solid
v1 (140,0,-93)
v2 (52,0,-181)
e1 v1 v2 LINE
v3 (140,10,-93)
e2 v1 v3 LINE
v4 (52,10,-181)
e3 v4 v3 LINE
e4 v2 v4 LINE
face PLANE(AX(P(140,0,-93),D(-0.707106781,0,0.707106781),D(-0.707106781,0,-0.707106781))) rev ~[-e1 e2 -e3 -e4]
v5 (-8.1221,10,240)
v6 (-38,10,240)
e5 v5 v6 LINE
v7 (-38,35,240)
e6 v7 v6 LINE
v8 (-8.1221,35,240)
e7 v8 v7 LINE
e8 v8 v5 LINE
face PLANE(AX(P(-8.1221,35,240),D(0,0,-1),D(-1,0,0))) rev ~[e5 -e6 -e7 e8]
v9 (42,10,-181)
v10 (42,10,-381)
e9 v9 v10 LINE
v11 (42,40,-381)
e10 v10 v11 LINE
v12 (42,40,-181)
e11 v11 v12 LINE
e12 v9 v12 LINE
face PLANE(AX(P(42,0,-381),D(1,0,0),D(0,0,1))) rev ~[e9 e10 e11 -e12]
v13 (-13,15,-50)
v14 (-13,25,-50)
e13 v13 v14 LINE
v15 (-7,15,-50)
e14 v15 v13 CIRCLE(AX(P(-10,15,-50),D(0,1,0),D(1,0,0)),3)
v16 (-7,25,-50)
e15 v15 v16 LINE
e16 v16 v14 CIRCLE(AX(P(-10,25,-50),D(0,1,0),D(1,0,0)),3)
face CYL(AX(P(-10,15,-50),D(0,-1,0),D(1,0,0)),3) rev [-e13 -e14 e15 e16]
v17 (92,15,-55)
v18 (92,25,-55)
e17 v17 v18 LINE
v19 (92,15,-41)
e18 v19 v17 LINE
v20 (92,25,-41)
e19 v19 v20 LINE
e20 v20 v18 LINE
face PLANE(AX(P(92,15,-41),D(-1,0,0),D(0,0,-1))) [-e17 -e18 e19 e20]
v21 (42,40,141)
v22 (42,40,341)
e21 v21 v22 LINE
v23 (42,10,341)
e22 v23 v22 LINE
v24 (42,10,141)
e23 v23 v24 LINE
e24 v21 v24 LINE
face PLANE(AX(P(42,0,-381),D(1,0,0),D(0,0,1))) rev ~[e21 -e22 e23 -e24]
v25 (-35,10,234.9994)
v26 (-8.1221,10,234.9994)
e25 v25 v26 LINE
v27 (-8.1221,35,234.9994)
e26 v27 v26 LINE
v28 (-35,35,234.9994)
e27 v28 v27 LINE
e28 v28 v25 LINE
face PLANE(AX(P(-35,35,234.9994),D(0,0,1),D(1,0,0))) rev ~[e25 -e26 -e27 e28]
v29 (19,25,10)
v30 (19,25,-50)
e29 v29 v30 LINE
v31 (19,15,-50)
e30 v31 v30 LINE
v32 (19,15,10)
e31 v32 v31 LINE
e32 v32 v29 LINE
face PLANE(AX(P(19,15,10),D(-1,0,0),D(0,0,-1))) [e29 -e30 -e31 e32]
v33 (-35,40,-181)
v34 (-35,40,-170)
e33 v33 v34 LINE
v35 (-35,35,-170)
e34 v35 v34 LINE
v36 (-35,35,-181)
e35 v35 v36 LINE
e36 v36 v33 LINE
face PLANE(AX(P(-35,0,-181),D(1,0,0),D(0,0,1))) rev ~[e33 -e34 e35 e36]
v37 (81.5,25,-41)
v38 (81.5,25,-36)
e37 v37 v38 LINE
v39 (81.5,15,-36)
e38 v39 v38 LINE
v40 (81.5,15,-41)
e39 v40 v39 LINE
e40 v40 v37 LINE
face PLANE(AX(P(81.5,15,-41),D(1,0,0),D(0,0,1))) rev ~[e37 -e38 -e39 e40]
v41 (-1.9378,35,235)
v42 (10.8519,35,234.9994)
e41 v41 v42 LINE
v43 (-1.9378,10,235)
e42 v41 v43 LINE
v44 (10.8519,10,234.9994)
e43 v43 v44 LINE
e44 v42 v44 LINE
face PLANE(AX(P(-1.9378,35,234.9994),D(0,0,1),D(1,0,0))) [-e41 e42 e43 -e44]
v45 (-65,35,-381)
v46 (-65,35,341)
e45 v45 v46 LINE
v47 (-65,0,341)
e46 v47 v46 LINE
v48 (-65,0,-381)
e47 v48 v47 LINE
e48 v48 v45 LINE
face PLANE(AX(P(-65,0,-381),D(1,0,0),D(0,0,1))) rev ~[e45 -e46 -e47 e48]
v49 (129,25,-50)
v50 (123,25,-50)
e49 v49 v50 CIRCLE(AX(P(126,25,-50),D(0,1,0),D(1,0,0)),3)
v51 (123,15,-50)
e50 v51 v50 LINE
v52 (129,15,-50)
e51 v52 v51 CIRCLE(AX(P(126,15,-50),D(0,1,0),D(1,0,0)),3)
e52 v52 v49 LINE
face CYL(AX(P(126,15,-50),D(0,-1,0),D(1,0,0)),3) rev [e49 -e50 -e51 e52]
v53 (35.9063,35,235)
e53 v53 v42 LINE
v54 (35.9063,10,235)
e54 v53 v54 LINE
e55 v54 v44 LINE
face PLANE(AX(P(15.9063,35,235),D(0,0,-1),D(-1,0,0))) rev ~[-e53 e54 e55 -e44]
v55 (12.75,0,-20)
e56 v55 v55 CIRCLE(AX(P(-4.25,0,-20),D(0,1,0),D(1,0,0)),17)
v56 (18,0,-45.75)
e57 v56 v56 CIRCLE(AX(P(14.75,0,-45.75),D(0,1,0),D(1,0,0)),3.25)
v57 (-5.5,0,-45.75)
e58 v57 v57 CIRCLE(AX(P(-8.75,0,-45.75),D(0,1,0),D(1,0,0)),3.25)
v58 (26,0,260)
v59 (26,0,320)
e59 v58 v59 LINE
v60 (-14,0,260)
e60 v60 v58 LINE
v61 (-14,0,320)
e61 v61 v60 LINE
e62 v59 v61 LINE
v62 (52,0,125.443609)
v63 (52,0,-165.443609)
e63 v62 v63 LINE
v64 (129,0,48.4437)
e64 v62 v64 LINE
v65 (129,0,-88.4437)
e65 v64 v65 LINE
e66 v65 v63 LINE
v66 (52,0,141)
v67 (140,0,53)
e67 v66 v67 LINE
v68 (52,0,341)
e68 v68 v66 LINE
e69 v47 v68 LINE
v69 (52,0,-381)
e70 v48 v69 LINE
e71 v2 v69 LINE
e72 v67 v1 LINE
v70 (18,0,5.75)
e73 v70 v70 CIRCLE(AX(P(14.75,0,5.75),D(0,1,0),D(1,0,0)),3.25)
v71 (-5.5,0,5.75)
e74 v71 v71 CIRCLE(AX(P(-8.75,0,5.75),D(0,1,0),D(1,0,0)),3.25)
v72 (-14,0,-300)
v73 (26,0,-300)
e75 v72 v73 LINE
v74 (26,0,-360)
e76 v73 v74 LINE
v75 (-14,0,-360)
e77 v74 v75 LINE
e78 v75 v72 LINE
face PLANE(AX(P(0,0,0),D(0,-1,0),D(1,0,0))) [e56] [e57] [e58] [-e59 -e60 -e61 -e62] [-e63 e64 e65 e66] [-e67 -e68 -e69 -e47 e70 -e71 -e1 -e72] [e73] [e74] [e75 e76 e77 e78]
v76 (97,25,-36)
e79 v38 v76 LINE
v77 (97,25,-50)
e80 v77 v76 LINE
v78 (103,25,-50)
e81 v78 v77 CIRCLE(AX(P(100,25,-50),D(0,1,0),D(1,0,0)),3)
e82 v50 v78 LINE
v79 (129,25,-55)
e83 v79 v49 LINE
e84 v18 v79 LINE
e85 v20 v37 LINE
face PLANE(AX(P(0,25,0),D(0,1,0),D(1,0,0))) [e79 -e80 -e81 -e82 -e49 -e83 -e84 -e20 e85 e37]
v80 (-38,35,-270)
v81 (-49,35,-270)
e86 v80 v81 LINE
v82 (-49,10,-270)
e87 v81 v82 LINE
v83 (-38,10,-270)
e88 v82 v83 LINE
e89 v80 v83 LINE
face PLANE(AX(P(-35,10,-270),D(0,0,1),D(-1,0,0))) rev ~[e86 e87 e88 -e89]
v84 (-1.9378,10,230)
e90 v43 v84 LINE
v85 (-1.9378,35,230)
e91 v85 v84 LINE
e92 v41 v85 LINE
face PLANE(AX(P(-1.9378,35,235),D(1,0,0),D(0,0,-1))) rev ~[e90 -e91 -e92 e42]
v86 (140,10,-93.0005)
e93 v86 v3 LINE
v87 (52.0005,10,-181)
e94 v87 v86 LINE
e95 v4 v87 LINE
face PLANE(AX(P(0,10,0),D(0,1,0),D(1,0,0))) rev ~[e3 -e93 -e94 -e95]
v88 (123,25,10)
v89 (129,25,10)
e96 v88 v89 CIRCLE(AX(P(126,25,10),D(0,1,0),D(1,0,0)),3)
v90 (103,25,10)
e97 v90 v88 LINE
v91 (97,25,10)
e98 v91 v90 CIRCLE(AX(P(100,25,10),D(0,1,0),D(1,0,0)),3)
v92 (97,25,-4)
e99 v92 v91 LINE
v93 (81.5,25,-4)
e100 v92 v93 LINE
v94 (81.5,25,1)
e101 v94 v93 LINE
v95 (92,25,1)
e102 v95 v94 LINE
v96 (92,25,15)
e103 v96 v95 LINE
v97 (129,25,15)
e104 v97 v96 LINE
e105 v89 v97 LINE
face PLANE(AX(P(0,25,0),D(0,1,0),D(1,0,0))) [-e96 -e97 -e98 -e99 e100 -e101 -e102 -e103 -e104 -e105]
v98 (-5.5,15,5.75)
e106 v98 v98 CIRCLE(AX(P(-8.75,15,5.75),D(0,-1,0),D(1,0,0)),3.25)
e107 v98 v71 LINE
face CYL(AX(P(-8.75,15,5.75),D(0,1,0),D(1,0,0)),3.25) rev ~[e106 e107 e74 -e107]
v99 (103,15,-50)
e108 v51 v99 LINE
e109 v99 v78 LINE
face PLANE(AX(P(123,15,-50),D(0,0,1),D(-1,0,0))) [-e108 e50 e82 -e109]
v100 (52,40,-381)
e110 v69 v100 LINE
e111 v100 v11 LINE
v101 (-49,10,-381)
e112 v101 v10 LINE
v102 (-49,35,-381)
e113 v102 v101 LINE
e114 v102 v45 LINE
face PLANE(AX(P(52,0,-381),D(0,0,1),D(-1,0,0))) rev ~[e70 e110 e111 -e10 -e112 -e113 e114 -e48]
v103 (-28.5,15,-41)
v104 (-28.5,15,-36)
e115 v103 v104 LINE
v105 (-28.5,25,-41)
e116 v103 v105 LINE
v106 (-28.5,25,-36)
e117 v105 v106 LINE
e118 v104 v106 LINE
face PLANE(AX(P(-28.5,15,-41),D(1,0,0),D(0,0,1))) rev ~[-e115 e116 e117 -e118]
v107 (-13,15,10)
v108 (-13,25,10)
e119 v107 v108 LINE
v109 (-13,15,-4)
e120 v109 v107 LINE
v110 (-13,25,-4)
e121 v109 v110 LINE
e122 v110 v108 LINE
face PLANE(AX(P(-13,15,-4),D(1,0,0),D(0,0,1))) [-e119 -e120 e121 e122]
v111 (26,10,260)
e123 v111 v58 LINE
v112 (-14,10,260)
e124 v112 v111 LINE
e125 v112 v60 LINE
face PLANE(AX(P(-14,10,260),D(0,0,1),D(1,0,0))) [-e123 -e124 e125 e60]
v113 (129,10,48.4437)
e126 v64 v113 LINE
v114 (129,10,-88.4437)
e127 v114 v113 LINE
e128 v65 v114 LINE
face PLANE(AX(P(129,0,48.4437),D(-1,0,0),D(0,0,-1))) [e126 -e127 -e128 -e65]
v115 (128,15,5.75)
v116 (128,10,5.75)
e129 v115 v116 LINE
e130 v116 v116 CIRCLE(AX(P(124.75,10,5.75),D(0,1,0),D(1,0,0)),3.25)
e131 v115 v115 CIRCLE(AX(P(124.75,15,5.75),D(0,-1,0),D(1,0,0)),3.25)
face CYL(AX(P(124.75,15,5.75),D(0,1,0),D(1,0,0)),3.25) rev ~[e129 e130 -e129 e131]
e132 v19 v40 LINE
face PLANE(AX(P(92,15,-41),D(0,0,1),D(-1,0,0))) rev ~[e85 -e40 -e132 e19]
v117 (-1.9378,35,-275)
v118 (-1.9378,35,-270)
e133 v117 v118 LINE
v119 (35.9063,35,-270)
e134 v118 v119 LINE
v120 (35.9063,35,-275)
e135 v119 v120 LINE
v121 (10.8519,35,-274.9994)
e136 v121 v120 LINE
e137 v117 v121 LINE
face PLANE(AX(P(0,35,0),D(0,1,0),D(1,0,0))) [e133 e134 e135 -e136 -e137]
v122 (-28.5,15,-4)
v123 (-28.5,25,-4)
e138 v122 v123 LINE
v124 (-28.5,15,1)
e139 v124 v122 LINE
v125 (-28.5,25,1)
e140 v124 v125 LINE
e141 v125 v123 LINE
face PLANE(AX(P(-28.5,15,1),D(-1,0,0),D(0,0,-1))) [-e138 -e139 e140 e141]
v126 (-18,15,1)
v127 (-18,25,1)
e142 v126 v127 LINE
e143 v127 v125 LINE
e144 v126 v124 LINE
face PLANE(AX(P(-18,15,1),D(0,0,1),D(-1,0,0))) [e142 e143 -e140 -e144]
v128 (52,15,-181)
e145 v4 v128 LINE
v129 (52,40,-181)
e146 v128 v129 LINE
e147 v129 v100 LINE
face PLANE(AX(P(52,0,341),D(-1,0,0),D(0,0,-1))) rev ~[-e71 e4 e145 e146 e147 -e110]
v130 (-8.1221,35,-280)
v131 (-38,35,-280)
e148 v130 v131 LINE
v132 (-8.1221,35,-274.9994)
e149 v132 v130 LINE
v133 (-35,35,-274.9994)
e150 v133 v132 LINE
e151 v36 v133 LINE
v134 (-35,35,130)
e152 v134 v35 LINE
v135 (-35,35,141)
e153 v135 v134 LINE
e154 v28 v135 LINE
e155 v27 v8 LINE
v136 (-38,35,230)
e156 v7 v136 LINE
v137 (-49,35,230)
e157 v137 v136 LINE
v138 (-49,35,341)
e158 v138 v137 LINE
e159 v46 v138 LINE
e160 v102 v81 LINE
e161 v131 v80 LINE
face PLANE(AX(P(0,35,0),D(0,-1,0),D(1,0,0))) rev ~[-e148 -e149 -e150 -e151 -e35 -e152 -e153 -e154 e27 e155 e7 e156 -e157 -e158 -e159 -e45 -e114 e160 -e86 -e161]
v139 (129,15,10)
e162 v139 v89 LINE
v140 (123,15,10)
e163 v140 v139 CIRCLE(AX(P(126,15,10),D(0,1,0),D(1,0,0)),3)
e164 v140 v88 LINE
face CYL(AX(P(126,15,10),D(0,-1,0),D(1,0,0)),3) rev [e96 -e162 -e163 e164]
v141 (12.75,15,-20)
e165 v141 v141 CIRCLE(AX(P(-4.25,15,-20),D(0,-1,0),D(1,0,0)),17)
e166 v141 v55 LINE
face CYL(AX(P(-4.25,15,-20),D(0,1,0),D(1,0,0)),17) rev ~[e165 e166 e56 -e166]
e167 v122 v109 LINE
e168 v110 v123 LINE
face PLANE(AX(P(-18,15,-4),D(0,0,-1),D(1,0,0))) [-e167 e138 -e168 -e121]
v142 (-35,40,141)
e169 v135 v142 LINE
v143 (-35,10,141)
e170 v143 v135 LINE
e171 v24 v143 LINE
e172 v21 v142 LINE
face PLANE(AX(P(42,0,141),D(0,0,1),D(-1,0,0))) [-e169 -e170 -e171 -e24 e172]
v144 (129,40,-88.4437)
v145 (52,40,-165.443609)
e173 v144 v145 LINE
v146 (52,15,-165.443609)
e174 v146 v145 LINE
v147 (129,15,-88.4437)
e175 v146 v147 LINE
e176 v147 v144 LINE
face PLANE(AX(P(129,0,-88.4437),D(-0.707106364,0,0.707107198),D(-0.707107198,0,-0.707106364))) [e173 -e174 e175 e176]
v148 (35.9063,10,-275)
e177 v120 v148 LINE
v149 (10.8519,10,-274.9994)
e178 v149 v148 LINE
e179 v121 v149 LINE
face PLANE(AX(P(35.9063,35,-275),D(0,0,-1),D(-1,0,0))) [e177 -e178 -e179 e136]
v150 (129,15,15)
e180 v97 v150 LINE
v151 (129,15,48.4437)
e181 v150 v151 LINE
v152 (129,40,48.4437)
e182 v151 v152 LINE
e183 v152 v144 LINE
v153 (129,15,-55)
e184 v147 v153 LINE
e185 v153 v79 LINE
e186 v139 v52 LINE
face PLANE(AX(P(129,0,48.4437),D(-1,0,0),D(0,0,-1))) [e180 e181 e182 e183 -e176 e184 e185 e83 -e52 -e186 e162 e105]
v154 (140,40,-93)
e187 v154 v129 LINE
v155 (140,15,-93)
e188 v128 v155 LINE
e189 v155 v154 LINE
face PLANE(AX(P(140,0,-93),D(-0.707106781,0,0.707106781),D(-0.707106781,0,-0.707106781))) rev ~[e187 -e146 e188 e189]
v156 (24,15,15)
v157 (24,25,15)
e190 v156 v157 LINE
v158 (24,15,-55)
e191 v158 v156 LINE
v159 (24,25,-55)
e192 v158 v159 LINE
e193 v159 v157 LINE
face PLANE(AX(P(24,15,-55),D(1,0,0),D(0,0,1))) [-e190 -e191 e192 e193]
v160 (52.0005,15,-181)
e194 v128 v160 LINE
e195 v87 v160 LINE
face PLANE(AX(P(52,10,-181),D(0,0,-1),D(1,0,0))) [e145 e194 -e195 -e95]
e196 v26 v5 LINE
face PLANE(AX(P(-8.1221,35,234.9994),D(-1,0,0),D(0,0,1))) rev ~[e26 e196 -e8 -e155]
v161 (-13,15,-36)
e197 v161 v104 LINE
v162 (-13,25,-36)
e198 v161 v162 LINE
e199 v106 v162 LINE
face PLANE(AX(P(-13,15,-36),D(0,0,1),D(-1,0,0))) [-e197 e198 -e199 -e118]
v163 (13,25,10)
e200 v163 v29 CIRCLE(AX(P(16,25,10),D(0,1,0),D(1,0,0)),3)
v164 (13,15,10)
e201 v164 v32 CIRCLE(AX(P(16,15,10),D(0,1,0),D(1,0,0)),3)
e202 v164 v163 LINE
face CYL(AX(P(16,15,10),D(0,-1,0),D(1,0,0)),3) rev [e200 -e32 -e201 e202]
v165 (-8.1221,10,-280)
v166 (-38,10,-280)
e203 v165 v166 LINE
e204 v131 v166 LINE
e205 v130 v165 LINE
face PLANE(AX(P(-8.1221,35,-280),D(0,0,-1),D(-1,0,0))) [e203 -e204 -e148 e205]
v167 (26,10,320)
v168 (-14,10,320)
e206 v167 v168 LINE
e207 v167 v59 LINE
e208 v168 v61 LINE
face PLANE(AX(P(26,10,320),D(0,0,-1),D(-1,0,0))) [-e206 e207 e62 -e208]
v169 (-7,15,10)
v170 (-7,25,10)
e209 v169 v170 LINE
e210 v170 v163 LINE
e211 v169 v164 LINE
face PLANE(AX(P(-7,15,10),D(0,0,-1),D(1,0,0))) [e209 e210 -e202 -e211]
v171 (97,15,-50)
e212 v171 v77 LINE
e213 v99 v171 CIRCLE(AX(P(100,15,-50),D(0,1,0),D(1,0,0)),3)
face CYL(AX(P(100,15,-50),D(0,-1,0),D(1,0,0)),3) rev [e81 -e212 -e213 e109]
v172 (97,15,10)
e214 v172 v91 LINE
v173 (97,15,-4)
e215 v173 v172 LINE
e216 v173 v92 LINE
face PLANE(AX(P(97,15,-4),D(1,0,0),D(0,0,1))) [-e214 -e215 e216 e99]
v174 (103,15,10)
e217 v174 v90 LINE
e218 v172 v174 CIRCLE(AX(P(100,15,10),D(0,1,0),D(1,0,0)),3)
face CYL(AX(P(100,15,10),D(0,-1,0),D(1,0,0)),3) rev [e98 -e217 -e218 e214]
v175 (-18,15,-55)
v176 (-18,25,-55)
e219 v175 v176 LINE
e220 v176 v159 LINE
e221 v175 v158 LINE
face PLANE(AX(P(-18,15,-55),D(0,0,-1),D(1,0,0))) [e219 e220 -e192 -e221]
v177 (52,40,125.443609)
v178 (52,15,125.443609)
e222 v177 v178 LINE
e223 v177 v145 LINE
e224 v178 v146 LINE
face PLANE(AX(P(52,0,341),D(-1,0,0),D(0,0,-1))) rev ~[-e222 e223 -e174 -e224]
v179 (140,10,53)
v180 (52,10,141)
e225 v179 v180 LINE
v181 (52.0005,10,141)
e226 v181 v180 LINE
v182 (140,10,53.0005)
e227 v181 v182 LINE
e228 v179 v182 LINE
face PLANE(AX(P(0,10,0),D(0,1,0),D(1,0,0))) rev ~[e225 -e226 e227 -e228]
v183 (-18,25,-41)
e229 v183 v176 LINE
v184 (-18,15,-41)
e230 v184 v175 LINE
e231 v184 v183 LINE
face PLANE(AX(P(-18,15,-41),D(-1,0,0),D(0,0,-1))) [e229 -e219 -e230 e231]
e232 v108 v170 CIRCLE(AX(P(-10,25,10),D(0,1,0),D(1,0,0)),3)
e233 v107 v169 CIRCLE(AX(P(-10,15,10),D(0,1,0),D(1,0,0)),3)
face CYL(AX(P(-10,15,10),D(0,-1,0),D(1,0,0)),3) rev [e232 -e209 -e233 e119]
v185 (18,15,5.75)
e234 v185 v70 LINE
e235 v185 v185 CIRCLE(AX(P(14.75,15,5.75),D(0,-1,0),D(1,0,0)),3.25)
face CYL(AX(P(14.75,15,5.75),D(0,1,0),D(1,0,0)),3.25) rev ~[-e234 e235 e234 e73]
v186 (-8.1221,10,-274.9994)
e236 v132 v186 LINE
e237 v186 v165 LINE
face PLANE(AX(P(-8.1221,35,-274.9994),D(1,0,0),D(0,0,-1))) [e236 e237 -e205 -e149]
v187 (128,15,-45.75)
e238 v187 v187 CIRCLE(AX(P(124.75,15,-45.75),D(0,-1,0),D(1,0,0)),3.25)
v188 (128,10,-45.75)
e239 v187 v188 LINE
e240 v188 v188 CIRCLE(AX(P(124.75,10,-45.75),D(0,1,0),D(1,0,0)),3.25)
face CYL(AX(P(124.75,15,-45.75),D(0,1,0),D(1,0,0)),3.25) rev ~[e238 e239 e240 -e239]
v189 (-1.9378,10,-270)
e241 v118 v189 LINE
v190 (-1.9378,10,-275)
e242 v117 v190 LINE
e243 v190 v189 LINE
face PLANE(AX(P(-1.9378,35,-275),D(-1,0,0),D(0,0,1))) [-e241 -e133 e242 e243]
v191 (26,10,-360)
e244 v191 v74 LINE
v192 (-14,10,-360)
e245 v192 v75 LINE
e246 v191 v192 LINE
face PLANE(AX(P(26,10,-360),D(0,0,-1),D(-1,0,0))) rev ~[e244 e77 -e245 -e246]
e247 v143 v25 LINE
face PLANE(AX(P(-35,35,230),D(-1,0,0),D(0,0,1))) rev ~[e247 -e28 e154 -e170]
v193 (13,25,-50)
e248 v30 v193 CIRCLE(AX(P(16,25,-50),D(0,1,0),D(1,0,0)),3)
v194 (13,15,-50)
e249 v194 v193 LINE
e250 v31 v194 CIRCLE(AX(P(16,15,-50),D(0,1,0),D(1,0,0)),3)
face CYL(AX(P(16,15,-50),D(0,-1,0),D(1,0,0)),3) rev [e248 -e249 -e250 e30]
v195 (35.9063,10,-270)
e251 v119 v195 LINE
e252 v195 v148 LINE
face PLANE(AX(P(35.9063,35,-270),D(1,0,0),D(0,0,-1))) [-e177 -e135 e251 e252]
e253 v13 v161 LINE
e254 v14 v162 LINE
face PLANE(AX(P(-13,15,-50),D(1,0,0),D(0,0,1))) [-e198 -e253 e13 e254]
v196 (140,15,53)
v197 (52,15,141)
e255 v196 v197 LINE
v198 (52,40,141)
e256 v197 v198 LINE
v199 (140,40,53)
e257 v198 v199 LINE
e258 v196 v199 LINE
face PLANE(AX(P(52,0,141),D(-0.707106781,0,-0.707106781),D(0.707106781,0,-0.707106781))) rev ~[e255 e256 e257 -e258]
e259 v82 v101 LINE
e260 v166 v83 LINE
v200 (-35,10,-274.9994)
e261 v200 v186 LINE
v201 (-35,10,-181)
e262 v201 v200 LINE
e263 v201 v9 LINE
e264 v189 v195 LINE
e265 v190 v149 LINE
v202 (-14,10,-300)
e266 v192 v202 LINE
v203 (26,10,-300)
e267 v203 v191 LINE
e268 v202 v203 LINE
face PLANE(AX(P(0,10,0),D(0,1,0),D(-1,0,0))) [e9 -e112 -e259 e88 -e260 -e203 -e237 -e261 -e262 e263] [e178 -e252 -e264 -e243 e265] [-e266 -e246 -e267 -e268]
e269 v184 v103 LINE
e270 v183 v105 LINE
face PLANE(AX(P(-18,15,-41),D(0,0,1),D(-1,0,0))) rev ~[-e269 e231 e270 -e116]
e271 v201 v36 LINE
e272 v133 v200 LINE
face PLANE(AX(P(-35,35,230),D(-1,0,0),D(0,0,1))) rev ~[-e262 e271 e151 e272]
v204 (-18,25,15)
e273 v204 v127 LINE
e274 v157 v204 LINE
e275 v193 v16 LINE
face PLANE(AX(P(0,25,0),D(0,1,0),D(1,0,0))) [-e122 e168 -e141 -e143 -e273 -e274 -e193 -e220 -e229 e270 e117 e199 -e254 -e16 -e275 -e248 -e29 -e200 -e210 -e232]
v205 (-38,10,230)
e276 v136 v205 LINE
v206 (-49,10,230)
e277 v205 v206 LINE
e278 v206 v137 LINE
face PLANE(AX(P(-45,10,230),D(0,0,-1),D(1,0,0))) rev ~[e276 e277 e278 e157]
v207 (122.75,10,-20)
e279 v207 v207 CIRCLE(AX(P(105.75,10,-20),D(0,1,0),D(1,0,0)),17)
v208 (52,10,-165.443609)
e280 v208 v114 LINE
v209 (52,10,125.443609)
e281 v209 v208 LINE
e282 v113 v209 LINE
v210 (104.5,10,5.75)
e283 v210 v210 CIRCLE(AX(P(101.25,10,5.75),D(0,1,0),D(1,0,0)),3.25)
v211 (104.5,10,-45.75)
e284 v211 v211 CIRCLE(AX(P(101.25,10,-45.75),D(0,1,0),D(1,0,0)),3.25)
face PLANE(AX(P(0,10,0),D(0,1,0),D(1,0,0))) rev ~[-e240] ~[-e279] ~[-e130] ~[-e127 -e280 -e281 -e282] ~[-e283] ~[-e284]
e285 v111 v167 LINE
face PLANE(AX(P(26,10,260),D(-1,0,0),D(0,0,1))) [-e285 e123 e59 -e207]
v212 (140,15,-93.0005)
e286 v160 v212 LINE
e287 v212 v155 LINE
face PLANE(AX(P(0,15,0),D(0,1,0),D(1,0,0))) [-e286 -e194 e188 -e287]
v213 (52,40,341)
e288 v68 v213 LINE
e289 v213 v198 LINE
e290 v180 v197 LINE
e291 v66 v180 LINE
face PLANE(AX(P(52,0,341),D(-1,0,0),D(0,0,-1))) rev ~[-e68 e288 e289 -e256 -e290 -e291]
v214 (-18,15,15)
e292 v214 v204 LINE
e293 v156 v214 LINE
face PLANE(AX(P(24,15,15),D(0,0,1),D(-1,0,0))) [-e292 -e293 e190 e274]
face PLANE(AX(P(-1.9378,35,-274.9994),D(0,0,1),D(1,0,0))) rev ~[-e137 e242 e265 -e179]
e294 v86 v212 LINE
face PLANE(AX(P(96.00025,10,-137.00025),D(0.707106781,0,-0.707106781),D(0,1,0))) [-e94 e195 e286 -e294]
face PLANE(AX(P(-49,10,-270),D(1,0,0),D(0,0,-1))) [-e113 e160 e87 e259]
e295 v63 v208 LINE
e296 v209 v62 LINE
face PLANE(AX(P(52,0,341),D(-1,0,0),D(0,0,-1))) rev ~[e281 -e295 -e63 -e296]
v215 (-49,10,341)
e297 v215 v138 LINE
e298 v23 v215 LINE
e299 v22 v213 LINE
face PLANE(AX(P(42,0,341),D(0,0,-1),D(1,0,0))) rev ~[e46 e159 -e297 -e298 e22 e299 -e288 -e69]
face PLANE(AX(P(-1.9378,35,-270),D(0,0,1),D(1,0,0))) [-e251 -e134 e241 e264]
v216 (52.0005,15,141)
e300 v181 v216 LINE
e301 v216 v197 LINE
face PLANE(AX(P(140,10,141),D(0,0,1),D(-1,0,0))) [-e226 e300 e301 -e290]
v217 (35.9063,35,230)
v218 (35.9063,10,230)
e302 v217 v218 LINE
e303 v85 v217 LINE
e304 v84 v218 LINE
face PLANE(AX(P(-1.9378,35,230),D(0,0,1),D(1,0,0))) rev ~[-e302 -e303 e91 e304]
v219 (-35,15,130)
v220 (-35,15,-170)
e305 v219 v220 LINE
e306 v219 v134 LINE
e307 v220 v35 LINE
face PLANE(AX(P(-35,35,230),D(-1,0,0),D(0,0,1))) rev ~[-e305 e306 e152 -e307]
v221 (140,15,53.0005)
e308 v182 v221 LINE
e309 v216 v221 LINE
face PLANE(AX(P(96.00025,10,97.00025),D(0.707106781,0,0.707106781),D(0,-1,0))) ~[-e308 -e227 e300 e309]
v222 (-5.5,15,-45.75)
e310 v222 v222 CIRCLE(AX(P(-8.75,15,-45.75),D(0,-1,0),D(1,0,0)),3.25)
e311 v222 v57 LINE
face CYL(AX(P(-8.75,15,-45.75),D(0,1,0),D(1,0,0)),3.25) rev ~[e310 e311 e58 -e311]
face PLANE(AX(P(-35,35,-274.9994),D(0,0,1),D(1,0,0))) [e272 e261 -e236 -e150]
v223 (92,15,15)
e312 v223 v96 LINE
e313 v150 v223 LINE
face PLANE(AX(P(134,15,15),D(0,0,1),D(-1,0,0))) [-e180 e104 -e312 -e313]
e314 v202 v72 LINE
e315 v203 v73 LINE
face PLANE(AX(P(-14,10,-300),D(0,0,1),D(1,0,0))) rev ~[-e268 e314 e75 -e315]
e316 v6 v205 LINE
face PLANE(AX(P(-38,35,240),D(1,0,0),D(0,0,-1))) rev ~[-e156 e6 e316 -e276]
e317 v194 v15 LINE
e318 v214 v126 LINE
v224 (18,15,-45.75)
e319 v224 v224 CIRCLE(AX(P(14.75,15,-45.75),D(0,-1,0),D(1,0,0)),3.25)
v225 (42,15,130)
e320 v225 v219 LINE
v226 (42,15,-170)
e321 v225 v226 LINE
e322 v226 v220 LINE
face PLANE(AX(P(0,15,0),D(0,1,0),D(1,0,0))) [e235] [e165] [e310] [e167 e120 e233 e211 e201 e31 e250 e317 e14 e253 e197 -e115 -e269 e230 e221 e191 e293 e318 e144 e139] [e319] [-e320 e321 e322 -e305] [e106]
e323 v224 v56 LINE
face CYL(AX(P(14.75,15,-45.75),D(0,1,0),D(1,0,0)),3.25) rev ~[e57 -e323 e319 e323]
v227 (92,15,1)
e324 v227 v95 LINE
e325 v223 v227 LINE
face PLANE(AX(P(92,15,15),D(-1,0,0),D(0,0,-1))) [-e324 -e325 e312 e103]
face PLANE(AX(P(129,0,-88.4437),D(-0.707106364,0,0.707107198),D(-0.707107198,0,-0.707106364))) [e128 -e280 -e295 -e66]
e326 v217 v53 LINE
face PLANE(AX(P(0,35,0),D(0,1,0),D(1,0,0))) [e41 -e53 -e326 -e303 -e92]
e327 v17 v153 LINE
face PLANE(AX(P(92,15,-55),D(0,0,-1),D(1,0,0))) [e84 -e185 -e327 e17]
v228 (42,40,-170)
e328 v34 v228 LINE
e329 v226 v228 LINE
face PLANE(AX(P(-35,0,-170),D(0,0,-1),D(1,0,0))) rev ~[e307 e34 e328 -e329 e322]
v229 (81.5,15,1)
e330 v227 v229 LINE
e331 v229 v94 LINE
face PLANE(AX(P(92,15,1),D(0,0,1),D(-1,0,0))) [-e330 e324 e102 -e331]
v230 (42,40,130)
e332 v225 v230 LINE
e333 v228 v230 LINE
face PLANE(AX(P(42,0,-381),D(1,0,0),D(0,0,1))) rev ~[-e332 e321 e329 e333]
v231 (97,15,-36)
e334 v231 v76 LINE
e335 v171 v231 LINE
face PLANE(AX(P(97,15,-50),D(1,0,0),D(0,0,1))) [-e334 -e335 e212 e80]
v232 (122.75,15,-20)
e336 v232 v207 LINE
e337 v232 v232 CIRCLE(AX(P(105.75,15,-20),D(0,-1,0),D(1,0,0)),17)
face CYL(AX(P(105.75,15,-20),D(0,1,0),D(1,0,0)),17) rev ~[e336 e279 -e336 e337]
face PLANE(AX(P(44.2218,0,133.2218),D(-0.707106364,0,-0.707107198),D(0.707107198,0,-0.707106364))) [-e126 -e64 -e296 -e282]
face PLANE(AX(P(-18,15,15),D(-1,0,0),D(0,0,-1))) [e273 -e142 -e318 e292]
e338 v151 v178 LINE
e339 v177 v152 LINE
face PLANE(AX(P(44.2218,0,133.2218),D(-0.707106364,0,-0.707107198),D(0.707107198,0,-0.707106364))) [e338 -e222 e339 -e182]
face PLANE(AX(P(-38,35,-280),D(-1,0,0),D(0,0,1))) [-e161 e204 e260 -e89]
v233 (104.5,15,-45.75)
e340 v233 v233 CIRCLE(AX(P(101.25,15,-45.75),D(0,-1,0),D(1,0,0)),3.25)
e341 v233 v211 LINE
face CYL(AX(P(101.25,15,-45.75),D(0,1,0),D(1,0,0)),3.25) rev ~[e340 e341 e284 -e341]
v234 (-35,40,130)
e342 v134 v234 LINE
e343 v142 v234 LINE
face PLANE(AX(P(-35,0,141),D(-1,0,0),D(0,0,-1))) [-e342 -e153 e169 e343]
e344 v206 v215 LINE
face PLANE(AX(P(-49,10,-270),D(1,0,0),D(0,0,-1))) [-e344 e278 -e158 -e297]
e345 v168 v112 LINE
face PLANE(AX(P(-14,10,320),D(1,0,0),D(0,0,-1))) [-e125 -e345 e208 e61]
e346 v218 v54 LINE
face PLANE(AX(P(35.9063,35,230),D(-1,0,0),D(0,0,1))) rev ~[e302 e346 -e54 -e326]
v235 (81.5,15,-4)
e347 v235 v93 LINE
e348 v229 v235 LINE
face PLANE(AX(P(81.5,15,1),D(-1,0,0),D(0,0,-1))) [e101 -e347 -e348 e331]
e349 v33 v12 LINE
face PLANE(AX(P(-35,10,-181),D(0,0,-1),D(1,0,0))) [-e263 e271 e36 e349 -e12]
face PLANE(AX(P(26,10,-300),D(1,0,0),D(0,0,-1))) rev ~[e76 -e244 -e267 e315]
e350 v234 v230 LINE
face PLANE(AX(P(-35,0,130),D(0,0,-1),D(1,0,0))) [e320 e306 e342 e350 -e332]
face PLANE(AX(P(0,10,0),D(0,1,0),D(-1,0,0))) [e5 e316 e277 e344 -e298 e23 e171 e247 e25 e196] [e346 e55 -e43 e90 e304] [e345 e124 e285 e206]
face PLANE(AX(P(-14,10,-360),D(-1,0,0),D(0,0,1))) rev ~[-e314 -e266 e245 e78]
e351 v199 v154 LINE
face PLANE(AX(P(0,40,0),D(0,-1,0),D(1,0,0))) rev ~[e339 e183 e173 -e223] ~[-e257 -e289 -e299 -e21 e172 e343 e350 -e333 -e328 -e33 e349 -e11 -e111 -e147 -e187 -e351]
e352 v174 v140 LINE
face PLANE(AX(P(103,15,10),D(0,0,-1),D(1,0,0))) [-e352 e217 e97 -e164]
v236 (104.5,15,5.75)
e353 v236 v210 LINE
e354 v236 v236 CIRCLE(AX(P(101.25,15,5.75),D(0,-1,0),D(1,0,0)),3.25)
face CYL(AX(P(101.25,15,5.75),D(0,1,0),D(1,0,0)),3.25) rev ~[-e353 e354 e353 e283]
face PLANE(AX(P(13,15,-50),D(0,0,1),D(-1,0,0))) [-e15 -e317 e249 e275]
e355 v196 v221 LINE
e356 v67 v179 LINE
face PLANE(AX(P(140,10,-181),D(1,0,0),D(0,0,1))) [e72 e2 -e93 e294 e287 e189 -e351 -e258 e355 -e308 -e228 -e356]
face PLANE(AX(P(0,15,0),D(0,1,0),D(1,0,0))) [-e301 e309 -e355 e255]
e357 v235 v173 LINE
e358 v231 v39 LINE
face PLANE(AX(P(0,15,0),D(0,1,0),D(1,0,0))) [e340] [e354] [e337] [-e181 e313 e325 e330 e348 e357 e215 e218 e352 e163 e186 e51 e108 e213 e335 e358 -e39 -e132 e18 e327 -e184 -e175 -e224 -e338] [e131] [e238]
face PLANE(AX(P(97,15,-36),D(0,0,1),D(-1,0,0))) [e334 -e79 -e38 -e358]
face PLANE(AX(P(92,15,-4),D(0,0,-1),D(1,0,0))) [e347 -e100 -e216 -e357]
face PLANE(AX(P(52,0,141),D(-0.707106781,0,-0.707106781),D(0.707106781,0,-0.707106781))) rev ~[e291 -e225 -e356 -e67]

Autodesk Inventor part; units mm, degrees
ref_plane "YZ Plane" through (0, 0, 0) normal (1, 0, 0) x (0, 1, 0)
ref_plane "XZ Plane" through (0, 0, 0) normal (0, 1, 0) x (-1, 0, 0)
ref_plane "XY Plane" through (0, 0, 0) normal (0, 0, 1) x (1, 0, 0)
sketch "Эскиз1" plane through (0, 0, 0) normal (0, 1, 0) x (-1, 0, 0)
  line L0 (45, 341) -> (-42, 341)
  line L1 (-42, 341) -> (-42, -381)
  line L2 (-42, -381) -> (45, -381)
  line L3 (45, -381) -> (45, 341)
  point P0 (0, 0)
  dimension "d0" = 87
  dimension "d1" = 722
extrude "Выдавливание1" add sketch "Эскиз1" along normal blind 10
sketch "Эскиз2" plane through (0, 10, 0) normal (0, 1, 0) x (1, 0, 0)
  line L0 (26, -320) -> (-14, -320)
  line L1 (-14, -320) -> (-14, -260)
  line L2 (-14, -260) -> (26, -260)
  line L3 (26, -260) -> (26, -320)
  line L4 (-45, -341) -> (42, -341) projected
  line L5 (42, -341) -> (42, 381) projected
  line L6 (42, 381) -> (-45, 381) projected
  line L7 (-319, 20) -> (-306, 20)
  line L8 (26, 360) -> (-14, 360)
  line L9 (-14, 360) -> (-14, 300)
  line L10 (-14, 300) -> (26, 300)
  line L11 (26, 300) -> (26, 360)
  point P0 (0, 0)
  dimension "d4" = 21
  dimension "d5" = 16
  dimension "d6" = 60
  dimension "d7" = 40
extrude "Выдавливание2" cut sketch "Эскиз2" against normal blind 10
sketch "Эскиз3" plane through (0, 10, 0) normal (0, 1, 0) x (1, 0, 0)
  line L0 (-45, 381) -> (-45, -341) projected
  line L1 (-45, -230) -> (-35, -230)
  line L2 (-35, -230) -> (-35, 270)
  line L3 (-35, 270) -> (-45, 270)
  line L4 (-45, 270) -> (-45, -230)
  line L5 (42, 381) -> (-45, 381) projected
  point P0 (0, 0)
  point P1 (-45, 270)
  dimension "d10" = 10
  dimension "d12" = 500
  dimension "d13" = 111
extrude "Выдавливание3" add sketch "Эскиз3" along normal blind 25
sketch "Эскиз4" plane through (0, 0, 0) normal (0, -1, 0) x (1, 0, 0)
  line L0 (-45, -381) -> (-45, -270) projected
  line L1 (-45, -381) -> (-65, -381)
  line L2 (-65, -381) -> (-65, 341)
  line L3 (-65, 341) -> (-45, 341)
  line L4 (-45, 341) -> (-45, -381)
  line L5 (-45, 341) -> (42, 341) projected
  point P0 (0, 0)
  dimension "d16" = 722
  dimension "d17" = 0
  dimension "d20" = 20
extrude "Выдавливание4" add sketch "Эскиз4" against normal blind 35
sketch "Эскиз6" plane through (0, 0, 0) normal (0, -1, 0) x (1, 0, 0)
  line L0 (-45, 341) -> (42, 341) projected
  line L1 (42, 341) -> (52, 341)
  line L2 (52, 341) -> (52, -381)
  line L3 (52, -381) -> (42, -381)
  line L4 (42, -381) -> (42, 341)
  point P0 (0, 0)
  dimension "d22" = 10
extrude "Выдавливание5" add sketch "Эскиз6" against normal blind 40
sketch "Эскиз7" plane through (0, 10, 0) normal (0, 1, 0) x (1, 0, 0)
  line L0 (-35, -230) -> (-35, 270) projected
  line L1 (42, -341) -> (42, 381) projected
  line L2 (-35, 181) -> (42, 181)
  line L3 (42, 181) -> (42, -141)
  line L4 (42, -141) -> (-35, -141)
  line L5 (-35, -141) -> (-35, 181)
  line L6 (42, 381) -> (-45, 381) projected
  line L7 (-45, -341) -> (42, -341) projected
  line L8 (52, 181) -> (140, 181)
  line L9 (140, 181) -> (140, -141)
  line L10 (140, -141) -> (52, -141)
  line L11 (52, -141) -> (52, 181)
  point P0 (0, 0)
  point P1 (-35, -141)
  point P2 (42, 181)
  dimension "d25" = 200
  dimension "d26" = 200
extrude "Выдавливание6" add sketch "Эскиз7" along normal blind 5
sketch "Эскиз8" plane through (0, 15, 0) normal (0, 1, 0) x (1, 0, 0)
  line L0 (-18, 55) -> (24, 55)
  line L1 (24, 55) -> (24, -15)
  line L2 (24, -15) -> (-18, -15)
  line L3 (-18, -15) -> (-18, 55)
  line L4 (42, 381) -> (-45, 381) projected
  line L5 (19, -10) -> (19, 50)
  line L6 (19, 50) -> (-13, 50)
  line L7 (-13, 50) -> (-13, -10)
  line L8 (-13, -10) -> (19, -10)
  line L9 (1, 36) -> (-28.5, 36)
  line L10 (-28.5, 36) -> (-28.5, 4)
  line L11 (-28.5, 4) -> (1, 4)
  line L12 (1, 4) -> (1, 36)
  line L13 (-28.5, 36) -> (-18, 36)
  line L14 (-18, 36) -> (-18, 41)
  line L15 (-18, 41) -> (-28.5, 41)
  line L16 (-28.5, 41) -> (-28.5, 36)
  line L17 (-28.5, 4) -> (-18, 4)
  line L18 (-18, 4) -> (-18, -1)
  line L19 (-18, -1) -> (-28.5, -1)
  line L20 (-28.5, -1) -> (-28.5, 4)
  circle A0 centre (16, 50) radius 3
  circle A1 centre (-10, 50) radius 3
  circle A2 centre (-10, -10) radius 3
  circle A3 centre (16, -10) radius 3
  line L21 (92, 55) -> (134, 55)
  line L22 (134, 55) -> (134, -15)
  line L23 (134, -15) -> (92, -15)
  line L24 (92, -15) -> (92, 55)
  line L25 (129, -10) -> (129, 50)
  line L26 (129, 50) -> (97, 50)
  line L27 (97, 50) -> (97, -10)
  line L28 (97, -10) -> (129, -10)
  line L29 (111, 36) -> (81.5, 36)
  line L30 (81.5, 36) -> (81.5, 4)
  line L31 (81.5, 4) -> (111, 4)
  line L32 (111, 4) -> (111, 36)
  line L33 (81.5, 36) -> (92, 36)
  line L34 (92, 36) -> (92, 41)
  line L35 (92, 41) -> (81.5, 41)
  line L36 (81.5, 41) -> (81.5, 36)
  line L37 (81.5, 4) -> (92, 4)
  line L38 (92, 4) -> (92, -1)
  line L39 (92, -1) -> (81.5, -1)
  line L40 (81.5, -1) -> (81.5, 4)
  circle A4 centre (126, 50) radius 3
  circle A5 centre (100, 50) radius 3
  circle A6 centre (100, -10) radius 3
  circle A7 centre (126, -10) radius 3
  point P0 (0, 0)
  point P1 (-13, 36)
  point P2 (-7, 50)
  point P3 (13, 50)
  point P4 (13, -10)
  point P5 (-7, -10)
  point P6 (-13, 4)
  point P7 (97, 36)
  point P8 (103, 50)
  point P9 (123, 50)
  point P10 (123, -10)
  point P11 (103, -10)
  point P12 (97, 4)
  dimension "d29" = 42
  dimension "d30" = 70
  dimension "d31" = 326
  dimension "d32" = 5
  dimension "d33" = 10.5
  dimension "d47" = 5
  dimension "d48" = 5
  dimension "d49" = 19
  dimension "d50" = 19
  dimension "d61" = 42
  dimension "d62" = 70
  dimension "d63" = 5
  dimension "d64" = 10.5
  dimension "d65" = 5
  dimension "d66" = 5
  dimension "d67" = 19
  dimension "d68" = 19
extrude "Выдавливание7" add sketch "Эскиз8" along normal blind 10 contours L0 L1 L2 L3 L11 L7 A2 L8 A3 L5 A0 L6 A1 L9 | L3 L9 L16 L15 | L3 L19 L20 L11 | L21 L22 L23 L24 L31 L27 A6 L28 A7 L25 A4 L26 A5 L29 | L24 L29 L36 L35 | L24 L39 L40 L31
sketch "Эскиз9" plane through (0, 15, 0) normal (0, 1, 0) x (1, 0, 0)
  line L0 (-8.75, 45.75) -> (14.75, 45.75)
  line L1 (14.75, 45.75) -> (14.75, -5.75)
  line L2 (14.75, -5.75) -> (-8.75, -5.75)
  line L3 (-8.75, -5.75) -> (-8.75, 45.75)
  line L4 (-28.5, 4) -> (-28.5, -1) projected
  line L5 (-28.5, -1) -> (-18, -1) projected
  line L6 (-18, -1) -> (-18, -15) projected
  line L7 (-18, -15) -> (24, -15) projected
  line L8 (24, -15) -> (24, 55) projected
  line L9 (24, 55) -> (-18, 55) projected
  line L10 (-18, 55) -> (-18, 41) projected
  line L11 (-18, 41) -> (-28.5, 41) projected
  line L12 (-28.5, 41) -> (-28.5, 36) projected
  line L13 (-28.5, 36) -> (-13, 36) projected
  line L14 (-13, 36) -> (-13, 50) projected
  arc A0 (-7, 50) -> (-13, 50) centre (-10, 50) ccw projected
  line L15 (-7, 50) -> (13, 50) projected
  arc A1 (19, 50) -> (13, 50) centre (16, 50) ccw projected
  line L16 (19, 50) -> (19, -10) projected
  arc A2 (13, -10) -> (19, -10) centre (16, -10) ccw projected
  line L17 (13, -10) -> (-7, -10) projected
  arc A3 (-13, -10) -> (-7, -10) centre (-10, -10) ccw projected
  line L18 (-13, -10) -> (-13, 4) projected
  line L19 (-13, 4) -> (-28.5, 4) projected
  circle A4 centre (-8.75, 45.75) radius 3.25
  circle A5 centre (14.75, 45.75) radius 3.25
  circle A6 centre (14.75, -5.75) radius 3.25
  circle A7 centre (-8.75, -5.75) radius 3.25
  circle A8 centre (-4.25, 20) radius 17
  line L20 (101.25, 45.75) -> (124.75, 45.75)
  line L21 (124.75, 45.75) -> (124.75, -5.75)
  line L22 (124.75, -5.75) -> (101.25, -5.75)
  line L23 (101.25, -5.75) -> (101.25, 45.75)
  circle A9 centre (101.25, 45.75) radius 3.25
  circle A10 centre (124.75, 45.75) radius 3.25
  circle A11 centre (124.75, -5.75) radius 3.25
  circle A12 centre (101.25, -5.75) radius 3.25
  circle A13 centre (105.75, 20) radius 17
  point P0 (0, 0)
  dimension "d36" = 4.25
  dimension "d37" = 4.25
  dimension "d38" = 4.25
  dimension "d39" = 4.25
  dimension "d40" = 19
  dimension "d41" = 34
  dimension "d69" = 19
  dimension "d70" = 34
extrude "Выдавливание8" cut sketch "Эскиз9" against normal blind 20 contours L3 A4 L0 | L0 A4 L3 | A5 L1 L0 | L0 L1 A5 | A8 L3 | L3 A8 | A6 L2 L1 | L1 L2 A6 | A7 L2 L3 | L3 L2 A7 | L23 A9 L20 | L20 A9 L23 | A10 L21 L20 | L20 L21 A10 | A13 L23 | L23 A13 | A11 L22 L21 | L21 L22 A11 | A12 L22 L23 | L23 L22 A12
chamfer "Фаска1" [suppressed]
sketch "Эскиз10" plane through (-45, 10, -270) normal (1, 0, 0) x (0, 0, -1)
  line L0 (0, 25) -> (111, 25) projected
  line L1 (0, 0) -> (0, 25) projected
  line L2 (111, 0) -> (0, 0) projected
  line L3 (111, 0) -> (111, 25) projected
  line L4 (-611, 0) -> (-611, 25) projected
  line L5 (-500, 0) -> (-611, 0) projected
  line L6 (-500, 0) -> (-500, 25) projected
  line L7 (-611, 25) -> (-500, 25) projected
  line L8 (111, 0) -> (0, 0) projected
  line L9 (111, 0) -> (111, 25) projected
  line L10 (0, 25) -> (111, 25) projected
  line L11 (0, 0) -> (0, 25) projected
  line L12 (-500, 0) -> (-611, 0) projected
  line L13 (-500, 0) -> (-500, 25) projected
  line L14 (-611, 25) -> (-500, 25) projected
  line L15 (-611, 0) -> (-611, 25) projected
  point P0 (-270, -10)
extrude "Выдавливание9" cut sketch "Эскиз10" against normal blind 2
sketch "Эскиз12" plane through (0, 35, 0) normal (0, 1, 0) x (1, 0, 0)
  line L0 (-35, 270) -> (-45, 270) projected
  line L1 (-38, 270) -> (-8.1221, 270)
  line L2 (-8.1221, 270) -> (-8.1221, 280)
  line L3 (-8.1221, 280) -> (-38, 280)
  line L4 (-38, 280) -> (-38, 270)
  line L5 (35.9063, 275) -> (15.9063, 275)
  line L6 (15.9063, 275) -> (15.9063, 280)
  line L7 (15.9063, 280) -> (35.9063, 280)
  line L8 (35.9063, 280) -> (35.9063, 275)
  circle A0 centre (-4.25, 20) radius 17 projected
  line L9 (-4.25, 20) -> (0, 20)
  line L10 (-35, 269) -> (-35, 274.9994)
  line L11 (-35, 274.9994) -> (10.8519, 274.9994)
  line L12 (35.9063, 275) -> (-1.9378, 275)
  line L13 (-1.9378, 275) -> (-1.9378, 270)
  line L14 (-1.9378, 270) -> (35.9063, 270)
  line L15 (35.9063, 270) -> (35.9063, 275)
  line L16 (-35, -230) -> (-47, -230)
  line L17 (-38, -230) -> (-8.1221, -230)
  line L18 (-8.1221, -230) -> (-8.1221, -240)
  line L19 (-8.1221, -240) -> (-38, -240)
  line L20 (-38, -240) -> (-38, -230)
  line L21 (35.9063, -235) -> (15.9063, -235)
  line L22 (15.9063, -235) -> (15.9063, -240)
  line L23 (15.9063, -240) -> (35.9063, -240)
  line L24 (35.9063, -240) -> (35.9063, -235)
  line L25 (-35, -229) -> (-35, -234.9994)
  line L26 (-35, -234.9994) -> (10.8519, -234.9994)
  line L27 (35.9063, -235) -> (-1.9378, -235)
  line L28 (-1.9378, -235) -> (-1.9378, -230)
  line L29 (-1.9378, -230) -> (35.9063, -230)
  line L30 (35.9063, -230) -> (35.9063, -235)
  point P0 (0, 0)
  point P1 (-47, 270)
  point P2 (-8.1221, -234.9994)
  point P3 (-35, -230)
  point P4 (-8.1221, 274.9994)
  dimension "d56" = 10
  dimension "d57" = 20
  dimension "d58" = 5
extrude "Выдавливание11" add sketch "Эскиз12" against normal blind 25 contours L11 L12 L5 L15 L14 L13 | L0 L4 L3 L2 L11 L10 | L25 L26 L18 L19 L20 L16 | L28 L29 L30 L21 L27 L26
sketch "Sketch13" plane through (0, 15, 0) normal (0, 1, 0) x (1, 0, 0)
  point P0 (0, 0)
chamfer "Chamfer2" distance 88 angle 45 2 edges at (140, 12.5, -181) (140, 12.5, 141)
sketch "Sketch14" plane through (0, 0, 0) normal (0, -1, 0) x (1, 0, 0)
  line L0 (52, 141) -> (140, 53)
  line L1 (140, 53) -> (140, -93) projected
  line L2 (140, 53) -> (140, -93)
  line L3 (140, -93) -> (52, -181)
  line L4 (44.2218, 133.2218) -> (129, 48.4437)
  line L5 (129, 48.4437) -> (129, -88.4437)
  line L6 (129, -88.4437) -> (44.2218, -173.2218)
  line L7 (44.2218, -173.2218) -> (52, -181)
  line L8 (44.2218, 133.2218) -> (52, 141)
  line L9 (-35, -181) -> (42, -181) projected
  line L10 (42, -181) -> (-35, -181)
  line L11 (-35, -181) -> (-35, -170)
  line L12 (-35, -170) -> (42, -170)
  line L13 (42, -170) -> (42, -181)
  line L14 (42, 141) -> (-35, 141) projected
  line L15 (42, 141) -> (-35, 141)
  line L16 (-35, 141) -> (-35, 130)
  line L17 (-35, 130) -> (42, 130)
  line L18 (42, 130) -> (42, 141)
  point P0 (0, 0)
  dimension "d75" = 11
  dimension "d78" = 11
  dimension "d79" = 11
extrude "Extrusion12" add sketch "Sketch14" against normal blind 40
sketch "Sketch15" plane through (-47, 10, -270) normal (1, 0, 0) x (0, 0, -1)
  line L0 (111, 25) -> (111, 0) projected
  line L1 (111, 25) -> (0, 25)
  line L2 (0, 25) -> (0, 0)
  line L3 (0, 0) -> (111, 0)
  line L4 (111, 0) -> (111, 25)
  line L5 (-500, 0) -> (-500, 25) projected
  line L6 (-611, 25) -> (-500, 25)
  line L7 (-500, 25) -> (-500, 0)
  line L8 (-500, 0) -> (-611, 0)
  line L9 (-611, 0) -> (-611, 25)
  point P0 (-270, -10)
  point P1 (111, 0)
extrude "Extrusion13" cut sketch "Sketch15" against normal blind 2
properties part number "FlanecX_Aax"
